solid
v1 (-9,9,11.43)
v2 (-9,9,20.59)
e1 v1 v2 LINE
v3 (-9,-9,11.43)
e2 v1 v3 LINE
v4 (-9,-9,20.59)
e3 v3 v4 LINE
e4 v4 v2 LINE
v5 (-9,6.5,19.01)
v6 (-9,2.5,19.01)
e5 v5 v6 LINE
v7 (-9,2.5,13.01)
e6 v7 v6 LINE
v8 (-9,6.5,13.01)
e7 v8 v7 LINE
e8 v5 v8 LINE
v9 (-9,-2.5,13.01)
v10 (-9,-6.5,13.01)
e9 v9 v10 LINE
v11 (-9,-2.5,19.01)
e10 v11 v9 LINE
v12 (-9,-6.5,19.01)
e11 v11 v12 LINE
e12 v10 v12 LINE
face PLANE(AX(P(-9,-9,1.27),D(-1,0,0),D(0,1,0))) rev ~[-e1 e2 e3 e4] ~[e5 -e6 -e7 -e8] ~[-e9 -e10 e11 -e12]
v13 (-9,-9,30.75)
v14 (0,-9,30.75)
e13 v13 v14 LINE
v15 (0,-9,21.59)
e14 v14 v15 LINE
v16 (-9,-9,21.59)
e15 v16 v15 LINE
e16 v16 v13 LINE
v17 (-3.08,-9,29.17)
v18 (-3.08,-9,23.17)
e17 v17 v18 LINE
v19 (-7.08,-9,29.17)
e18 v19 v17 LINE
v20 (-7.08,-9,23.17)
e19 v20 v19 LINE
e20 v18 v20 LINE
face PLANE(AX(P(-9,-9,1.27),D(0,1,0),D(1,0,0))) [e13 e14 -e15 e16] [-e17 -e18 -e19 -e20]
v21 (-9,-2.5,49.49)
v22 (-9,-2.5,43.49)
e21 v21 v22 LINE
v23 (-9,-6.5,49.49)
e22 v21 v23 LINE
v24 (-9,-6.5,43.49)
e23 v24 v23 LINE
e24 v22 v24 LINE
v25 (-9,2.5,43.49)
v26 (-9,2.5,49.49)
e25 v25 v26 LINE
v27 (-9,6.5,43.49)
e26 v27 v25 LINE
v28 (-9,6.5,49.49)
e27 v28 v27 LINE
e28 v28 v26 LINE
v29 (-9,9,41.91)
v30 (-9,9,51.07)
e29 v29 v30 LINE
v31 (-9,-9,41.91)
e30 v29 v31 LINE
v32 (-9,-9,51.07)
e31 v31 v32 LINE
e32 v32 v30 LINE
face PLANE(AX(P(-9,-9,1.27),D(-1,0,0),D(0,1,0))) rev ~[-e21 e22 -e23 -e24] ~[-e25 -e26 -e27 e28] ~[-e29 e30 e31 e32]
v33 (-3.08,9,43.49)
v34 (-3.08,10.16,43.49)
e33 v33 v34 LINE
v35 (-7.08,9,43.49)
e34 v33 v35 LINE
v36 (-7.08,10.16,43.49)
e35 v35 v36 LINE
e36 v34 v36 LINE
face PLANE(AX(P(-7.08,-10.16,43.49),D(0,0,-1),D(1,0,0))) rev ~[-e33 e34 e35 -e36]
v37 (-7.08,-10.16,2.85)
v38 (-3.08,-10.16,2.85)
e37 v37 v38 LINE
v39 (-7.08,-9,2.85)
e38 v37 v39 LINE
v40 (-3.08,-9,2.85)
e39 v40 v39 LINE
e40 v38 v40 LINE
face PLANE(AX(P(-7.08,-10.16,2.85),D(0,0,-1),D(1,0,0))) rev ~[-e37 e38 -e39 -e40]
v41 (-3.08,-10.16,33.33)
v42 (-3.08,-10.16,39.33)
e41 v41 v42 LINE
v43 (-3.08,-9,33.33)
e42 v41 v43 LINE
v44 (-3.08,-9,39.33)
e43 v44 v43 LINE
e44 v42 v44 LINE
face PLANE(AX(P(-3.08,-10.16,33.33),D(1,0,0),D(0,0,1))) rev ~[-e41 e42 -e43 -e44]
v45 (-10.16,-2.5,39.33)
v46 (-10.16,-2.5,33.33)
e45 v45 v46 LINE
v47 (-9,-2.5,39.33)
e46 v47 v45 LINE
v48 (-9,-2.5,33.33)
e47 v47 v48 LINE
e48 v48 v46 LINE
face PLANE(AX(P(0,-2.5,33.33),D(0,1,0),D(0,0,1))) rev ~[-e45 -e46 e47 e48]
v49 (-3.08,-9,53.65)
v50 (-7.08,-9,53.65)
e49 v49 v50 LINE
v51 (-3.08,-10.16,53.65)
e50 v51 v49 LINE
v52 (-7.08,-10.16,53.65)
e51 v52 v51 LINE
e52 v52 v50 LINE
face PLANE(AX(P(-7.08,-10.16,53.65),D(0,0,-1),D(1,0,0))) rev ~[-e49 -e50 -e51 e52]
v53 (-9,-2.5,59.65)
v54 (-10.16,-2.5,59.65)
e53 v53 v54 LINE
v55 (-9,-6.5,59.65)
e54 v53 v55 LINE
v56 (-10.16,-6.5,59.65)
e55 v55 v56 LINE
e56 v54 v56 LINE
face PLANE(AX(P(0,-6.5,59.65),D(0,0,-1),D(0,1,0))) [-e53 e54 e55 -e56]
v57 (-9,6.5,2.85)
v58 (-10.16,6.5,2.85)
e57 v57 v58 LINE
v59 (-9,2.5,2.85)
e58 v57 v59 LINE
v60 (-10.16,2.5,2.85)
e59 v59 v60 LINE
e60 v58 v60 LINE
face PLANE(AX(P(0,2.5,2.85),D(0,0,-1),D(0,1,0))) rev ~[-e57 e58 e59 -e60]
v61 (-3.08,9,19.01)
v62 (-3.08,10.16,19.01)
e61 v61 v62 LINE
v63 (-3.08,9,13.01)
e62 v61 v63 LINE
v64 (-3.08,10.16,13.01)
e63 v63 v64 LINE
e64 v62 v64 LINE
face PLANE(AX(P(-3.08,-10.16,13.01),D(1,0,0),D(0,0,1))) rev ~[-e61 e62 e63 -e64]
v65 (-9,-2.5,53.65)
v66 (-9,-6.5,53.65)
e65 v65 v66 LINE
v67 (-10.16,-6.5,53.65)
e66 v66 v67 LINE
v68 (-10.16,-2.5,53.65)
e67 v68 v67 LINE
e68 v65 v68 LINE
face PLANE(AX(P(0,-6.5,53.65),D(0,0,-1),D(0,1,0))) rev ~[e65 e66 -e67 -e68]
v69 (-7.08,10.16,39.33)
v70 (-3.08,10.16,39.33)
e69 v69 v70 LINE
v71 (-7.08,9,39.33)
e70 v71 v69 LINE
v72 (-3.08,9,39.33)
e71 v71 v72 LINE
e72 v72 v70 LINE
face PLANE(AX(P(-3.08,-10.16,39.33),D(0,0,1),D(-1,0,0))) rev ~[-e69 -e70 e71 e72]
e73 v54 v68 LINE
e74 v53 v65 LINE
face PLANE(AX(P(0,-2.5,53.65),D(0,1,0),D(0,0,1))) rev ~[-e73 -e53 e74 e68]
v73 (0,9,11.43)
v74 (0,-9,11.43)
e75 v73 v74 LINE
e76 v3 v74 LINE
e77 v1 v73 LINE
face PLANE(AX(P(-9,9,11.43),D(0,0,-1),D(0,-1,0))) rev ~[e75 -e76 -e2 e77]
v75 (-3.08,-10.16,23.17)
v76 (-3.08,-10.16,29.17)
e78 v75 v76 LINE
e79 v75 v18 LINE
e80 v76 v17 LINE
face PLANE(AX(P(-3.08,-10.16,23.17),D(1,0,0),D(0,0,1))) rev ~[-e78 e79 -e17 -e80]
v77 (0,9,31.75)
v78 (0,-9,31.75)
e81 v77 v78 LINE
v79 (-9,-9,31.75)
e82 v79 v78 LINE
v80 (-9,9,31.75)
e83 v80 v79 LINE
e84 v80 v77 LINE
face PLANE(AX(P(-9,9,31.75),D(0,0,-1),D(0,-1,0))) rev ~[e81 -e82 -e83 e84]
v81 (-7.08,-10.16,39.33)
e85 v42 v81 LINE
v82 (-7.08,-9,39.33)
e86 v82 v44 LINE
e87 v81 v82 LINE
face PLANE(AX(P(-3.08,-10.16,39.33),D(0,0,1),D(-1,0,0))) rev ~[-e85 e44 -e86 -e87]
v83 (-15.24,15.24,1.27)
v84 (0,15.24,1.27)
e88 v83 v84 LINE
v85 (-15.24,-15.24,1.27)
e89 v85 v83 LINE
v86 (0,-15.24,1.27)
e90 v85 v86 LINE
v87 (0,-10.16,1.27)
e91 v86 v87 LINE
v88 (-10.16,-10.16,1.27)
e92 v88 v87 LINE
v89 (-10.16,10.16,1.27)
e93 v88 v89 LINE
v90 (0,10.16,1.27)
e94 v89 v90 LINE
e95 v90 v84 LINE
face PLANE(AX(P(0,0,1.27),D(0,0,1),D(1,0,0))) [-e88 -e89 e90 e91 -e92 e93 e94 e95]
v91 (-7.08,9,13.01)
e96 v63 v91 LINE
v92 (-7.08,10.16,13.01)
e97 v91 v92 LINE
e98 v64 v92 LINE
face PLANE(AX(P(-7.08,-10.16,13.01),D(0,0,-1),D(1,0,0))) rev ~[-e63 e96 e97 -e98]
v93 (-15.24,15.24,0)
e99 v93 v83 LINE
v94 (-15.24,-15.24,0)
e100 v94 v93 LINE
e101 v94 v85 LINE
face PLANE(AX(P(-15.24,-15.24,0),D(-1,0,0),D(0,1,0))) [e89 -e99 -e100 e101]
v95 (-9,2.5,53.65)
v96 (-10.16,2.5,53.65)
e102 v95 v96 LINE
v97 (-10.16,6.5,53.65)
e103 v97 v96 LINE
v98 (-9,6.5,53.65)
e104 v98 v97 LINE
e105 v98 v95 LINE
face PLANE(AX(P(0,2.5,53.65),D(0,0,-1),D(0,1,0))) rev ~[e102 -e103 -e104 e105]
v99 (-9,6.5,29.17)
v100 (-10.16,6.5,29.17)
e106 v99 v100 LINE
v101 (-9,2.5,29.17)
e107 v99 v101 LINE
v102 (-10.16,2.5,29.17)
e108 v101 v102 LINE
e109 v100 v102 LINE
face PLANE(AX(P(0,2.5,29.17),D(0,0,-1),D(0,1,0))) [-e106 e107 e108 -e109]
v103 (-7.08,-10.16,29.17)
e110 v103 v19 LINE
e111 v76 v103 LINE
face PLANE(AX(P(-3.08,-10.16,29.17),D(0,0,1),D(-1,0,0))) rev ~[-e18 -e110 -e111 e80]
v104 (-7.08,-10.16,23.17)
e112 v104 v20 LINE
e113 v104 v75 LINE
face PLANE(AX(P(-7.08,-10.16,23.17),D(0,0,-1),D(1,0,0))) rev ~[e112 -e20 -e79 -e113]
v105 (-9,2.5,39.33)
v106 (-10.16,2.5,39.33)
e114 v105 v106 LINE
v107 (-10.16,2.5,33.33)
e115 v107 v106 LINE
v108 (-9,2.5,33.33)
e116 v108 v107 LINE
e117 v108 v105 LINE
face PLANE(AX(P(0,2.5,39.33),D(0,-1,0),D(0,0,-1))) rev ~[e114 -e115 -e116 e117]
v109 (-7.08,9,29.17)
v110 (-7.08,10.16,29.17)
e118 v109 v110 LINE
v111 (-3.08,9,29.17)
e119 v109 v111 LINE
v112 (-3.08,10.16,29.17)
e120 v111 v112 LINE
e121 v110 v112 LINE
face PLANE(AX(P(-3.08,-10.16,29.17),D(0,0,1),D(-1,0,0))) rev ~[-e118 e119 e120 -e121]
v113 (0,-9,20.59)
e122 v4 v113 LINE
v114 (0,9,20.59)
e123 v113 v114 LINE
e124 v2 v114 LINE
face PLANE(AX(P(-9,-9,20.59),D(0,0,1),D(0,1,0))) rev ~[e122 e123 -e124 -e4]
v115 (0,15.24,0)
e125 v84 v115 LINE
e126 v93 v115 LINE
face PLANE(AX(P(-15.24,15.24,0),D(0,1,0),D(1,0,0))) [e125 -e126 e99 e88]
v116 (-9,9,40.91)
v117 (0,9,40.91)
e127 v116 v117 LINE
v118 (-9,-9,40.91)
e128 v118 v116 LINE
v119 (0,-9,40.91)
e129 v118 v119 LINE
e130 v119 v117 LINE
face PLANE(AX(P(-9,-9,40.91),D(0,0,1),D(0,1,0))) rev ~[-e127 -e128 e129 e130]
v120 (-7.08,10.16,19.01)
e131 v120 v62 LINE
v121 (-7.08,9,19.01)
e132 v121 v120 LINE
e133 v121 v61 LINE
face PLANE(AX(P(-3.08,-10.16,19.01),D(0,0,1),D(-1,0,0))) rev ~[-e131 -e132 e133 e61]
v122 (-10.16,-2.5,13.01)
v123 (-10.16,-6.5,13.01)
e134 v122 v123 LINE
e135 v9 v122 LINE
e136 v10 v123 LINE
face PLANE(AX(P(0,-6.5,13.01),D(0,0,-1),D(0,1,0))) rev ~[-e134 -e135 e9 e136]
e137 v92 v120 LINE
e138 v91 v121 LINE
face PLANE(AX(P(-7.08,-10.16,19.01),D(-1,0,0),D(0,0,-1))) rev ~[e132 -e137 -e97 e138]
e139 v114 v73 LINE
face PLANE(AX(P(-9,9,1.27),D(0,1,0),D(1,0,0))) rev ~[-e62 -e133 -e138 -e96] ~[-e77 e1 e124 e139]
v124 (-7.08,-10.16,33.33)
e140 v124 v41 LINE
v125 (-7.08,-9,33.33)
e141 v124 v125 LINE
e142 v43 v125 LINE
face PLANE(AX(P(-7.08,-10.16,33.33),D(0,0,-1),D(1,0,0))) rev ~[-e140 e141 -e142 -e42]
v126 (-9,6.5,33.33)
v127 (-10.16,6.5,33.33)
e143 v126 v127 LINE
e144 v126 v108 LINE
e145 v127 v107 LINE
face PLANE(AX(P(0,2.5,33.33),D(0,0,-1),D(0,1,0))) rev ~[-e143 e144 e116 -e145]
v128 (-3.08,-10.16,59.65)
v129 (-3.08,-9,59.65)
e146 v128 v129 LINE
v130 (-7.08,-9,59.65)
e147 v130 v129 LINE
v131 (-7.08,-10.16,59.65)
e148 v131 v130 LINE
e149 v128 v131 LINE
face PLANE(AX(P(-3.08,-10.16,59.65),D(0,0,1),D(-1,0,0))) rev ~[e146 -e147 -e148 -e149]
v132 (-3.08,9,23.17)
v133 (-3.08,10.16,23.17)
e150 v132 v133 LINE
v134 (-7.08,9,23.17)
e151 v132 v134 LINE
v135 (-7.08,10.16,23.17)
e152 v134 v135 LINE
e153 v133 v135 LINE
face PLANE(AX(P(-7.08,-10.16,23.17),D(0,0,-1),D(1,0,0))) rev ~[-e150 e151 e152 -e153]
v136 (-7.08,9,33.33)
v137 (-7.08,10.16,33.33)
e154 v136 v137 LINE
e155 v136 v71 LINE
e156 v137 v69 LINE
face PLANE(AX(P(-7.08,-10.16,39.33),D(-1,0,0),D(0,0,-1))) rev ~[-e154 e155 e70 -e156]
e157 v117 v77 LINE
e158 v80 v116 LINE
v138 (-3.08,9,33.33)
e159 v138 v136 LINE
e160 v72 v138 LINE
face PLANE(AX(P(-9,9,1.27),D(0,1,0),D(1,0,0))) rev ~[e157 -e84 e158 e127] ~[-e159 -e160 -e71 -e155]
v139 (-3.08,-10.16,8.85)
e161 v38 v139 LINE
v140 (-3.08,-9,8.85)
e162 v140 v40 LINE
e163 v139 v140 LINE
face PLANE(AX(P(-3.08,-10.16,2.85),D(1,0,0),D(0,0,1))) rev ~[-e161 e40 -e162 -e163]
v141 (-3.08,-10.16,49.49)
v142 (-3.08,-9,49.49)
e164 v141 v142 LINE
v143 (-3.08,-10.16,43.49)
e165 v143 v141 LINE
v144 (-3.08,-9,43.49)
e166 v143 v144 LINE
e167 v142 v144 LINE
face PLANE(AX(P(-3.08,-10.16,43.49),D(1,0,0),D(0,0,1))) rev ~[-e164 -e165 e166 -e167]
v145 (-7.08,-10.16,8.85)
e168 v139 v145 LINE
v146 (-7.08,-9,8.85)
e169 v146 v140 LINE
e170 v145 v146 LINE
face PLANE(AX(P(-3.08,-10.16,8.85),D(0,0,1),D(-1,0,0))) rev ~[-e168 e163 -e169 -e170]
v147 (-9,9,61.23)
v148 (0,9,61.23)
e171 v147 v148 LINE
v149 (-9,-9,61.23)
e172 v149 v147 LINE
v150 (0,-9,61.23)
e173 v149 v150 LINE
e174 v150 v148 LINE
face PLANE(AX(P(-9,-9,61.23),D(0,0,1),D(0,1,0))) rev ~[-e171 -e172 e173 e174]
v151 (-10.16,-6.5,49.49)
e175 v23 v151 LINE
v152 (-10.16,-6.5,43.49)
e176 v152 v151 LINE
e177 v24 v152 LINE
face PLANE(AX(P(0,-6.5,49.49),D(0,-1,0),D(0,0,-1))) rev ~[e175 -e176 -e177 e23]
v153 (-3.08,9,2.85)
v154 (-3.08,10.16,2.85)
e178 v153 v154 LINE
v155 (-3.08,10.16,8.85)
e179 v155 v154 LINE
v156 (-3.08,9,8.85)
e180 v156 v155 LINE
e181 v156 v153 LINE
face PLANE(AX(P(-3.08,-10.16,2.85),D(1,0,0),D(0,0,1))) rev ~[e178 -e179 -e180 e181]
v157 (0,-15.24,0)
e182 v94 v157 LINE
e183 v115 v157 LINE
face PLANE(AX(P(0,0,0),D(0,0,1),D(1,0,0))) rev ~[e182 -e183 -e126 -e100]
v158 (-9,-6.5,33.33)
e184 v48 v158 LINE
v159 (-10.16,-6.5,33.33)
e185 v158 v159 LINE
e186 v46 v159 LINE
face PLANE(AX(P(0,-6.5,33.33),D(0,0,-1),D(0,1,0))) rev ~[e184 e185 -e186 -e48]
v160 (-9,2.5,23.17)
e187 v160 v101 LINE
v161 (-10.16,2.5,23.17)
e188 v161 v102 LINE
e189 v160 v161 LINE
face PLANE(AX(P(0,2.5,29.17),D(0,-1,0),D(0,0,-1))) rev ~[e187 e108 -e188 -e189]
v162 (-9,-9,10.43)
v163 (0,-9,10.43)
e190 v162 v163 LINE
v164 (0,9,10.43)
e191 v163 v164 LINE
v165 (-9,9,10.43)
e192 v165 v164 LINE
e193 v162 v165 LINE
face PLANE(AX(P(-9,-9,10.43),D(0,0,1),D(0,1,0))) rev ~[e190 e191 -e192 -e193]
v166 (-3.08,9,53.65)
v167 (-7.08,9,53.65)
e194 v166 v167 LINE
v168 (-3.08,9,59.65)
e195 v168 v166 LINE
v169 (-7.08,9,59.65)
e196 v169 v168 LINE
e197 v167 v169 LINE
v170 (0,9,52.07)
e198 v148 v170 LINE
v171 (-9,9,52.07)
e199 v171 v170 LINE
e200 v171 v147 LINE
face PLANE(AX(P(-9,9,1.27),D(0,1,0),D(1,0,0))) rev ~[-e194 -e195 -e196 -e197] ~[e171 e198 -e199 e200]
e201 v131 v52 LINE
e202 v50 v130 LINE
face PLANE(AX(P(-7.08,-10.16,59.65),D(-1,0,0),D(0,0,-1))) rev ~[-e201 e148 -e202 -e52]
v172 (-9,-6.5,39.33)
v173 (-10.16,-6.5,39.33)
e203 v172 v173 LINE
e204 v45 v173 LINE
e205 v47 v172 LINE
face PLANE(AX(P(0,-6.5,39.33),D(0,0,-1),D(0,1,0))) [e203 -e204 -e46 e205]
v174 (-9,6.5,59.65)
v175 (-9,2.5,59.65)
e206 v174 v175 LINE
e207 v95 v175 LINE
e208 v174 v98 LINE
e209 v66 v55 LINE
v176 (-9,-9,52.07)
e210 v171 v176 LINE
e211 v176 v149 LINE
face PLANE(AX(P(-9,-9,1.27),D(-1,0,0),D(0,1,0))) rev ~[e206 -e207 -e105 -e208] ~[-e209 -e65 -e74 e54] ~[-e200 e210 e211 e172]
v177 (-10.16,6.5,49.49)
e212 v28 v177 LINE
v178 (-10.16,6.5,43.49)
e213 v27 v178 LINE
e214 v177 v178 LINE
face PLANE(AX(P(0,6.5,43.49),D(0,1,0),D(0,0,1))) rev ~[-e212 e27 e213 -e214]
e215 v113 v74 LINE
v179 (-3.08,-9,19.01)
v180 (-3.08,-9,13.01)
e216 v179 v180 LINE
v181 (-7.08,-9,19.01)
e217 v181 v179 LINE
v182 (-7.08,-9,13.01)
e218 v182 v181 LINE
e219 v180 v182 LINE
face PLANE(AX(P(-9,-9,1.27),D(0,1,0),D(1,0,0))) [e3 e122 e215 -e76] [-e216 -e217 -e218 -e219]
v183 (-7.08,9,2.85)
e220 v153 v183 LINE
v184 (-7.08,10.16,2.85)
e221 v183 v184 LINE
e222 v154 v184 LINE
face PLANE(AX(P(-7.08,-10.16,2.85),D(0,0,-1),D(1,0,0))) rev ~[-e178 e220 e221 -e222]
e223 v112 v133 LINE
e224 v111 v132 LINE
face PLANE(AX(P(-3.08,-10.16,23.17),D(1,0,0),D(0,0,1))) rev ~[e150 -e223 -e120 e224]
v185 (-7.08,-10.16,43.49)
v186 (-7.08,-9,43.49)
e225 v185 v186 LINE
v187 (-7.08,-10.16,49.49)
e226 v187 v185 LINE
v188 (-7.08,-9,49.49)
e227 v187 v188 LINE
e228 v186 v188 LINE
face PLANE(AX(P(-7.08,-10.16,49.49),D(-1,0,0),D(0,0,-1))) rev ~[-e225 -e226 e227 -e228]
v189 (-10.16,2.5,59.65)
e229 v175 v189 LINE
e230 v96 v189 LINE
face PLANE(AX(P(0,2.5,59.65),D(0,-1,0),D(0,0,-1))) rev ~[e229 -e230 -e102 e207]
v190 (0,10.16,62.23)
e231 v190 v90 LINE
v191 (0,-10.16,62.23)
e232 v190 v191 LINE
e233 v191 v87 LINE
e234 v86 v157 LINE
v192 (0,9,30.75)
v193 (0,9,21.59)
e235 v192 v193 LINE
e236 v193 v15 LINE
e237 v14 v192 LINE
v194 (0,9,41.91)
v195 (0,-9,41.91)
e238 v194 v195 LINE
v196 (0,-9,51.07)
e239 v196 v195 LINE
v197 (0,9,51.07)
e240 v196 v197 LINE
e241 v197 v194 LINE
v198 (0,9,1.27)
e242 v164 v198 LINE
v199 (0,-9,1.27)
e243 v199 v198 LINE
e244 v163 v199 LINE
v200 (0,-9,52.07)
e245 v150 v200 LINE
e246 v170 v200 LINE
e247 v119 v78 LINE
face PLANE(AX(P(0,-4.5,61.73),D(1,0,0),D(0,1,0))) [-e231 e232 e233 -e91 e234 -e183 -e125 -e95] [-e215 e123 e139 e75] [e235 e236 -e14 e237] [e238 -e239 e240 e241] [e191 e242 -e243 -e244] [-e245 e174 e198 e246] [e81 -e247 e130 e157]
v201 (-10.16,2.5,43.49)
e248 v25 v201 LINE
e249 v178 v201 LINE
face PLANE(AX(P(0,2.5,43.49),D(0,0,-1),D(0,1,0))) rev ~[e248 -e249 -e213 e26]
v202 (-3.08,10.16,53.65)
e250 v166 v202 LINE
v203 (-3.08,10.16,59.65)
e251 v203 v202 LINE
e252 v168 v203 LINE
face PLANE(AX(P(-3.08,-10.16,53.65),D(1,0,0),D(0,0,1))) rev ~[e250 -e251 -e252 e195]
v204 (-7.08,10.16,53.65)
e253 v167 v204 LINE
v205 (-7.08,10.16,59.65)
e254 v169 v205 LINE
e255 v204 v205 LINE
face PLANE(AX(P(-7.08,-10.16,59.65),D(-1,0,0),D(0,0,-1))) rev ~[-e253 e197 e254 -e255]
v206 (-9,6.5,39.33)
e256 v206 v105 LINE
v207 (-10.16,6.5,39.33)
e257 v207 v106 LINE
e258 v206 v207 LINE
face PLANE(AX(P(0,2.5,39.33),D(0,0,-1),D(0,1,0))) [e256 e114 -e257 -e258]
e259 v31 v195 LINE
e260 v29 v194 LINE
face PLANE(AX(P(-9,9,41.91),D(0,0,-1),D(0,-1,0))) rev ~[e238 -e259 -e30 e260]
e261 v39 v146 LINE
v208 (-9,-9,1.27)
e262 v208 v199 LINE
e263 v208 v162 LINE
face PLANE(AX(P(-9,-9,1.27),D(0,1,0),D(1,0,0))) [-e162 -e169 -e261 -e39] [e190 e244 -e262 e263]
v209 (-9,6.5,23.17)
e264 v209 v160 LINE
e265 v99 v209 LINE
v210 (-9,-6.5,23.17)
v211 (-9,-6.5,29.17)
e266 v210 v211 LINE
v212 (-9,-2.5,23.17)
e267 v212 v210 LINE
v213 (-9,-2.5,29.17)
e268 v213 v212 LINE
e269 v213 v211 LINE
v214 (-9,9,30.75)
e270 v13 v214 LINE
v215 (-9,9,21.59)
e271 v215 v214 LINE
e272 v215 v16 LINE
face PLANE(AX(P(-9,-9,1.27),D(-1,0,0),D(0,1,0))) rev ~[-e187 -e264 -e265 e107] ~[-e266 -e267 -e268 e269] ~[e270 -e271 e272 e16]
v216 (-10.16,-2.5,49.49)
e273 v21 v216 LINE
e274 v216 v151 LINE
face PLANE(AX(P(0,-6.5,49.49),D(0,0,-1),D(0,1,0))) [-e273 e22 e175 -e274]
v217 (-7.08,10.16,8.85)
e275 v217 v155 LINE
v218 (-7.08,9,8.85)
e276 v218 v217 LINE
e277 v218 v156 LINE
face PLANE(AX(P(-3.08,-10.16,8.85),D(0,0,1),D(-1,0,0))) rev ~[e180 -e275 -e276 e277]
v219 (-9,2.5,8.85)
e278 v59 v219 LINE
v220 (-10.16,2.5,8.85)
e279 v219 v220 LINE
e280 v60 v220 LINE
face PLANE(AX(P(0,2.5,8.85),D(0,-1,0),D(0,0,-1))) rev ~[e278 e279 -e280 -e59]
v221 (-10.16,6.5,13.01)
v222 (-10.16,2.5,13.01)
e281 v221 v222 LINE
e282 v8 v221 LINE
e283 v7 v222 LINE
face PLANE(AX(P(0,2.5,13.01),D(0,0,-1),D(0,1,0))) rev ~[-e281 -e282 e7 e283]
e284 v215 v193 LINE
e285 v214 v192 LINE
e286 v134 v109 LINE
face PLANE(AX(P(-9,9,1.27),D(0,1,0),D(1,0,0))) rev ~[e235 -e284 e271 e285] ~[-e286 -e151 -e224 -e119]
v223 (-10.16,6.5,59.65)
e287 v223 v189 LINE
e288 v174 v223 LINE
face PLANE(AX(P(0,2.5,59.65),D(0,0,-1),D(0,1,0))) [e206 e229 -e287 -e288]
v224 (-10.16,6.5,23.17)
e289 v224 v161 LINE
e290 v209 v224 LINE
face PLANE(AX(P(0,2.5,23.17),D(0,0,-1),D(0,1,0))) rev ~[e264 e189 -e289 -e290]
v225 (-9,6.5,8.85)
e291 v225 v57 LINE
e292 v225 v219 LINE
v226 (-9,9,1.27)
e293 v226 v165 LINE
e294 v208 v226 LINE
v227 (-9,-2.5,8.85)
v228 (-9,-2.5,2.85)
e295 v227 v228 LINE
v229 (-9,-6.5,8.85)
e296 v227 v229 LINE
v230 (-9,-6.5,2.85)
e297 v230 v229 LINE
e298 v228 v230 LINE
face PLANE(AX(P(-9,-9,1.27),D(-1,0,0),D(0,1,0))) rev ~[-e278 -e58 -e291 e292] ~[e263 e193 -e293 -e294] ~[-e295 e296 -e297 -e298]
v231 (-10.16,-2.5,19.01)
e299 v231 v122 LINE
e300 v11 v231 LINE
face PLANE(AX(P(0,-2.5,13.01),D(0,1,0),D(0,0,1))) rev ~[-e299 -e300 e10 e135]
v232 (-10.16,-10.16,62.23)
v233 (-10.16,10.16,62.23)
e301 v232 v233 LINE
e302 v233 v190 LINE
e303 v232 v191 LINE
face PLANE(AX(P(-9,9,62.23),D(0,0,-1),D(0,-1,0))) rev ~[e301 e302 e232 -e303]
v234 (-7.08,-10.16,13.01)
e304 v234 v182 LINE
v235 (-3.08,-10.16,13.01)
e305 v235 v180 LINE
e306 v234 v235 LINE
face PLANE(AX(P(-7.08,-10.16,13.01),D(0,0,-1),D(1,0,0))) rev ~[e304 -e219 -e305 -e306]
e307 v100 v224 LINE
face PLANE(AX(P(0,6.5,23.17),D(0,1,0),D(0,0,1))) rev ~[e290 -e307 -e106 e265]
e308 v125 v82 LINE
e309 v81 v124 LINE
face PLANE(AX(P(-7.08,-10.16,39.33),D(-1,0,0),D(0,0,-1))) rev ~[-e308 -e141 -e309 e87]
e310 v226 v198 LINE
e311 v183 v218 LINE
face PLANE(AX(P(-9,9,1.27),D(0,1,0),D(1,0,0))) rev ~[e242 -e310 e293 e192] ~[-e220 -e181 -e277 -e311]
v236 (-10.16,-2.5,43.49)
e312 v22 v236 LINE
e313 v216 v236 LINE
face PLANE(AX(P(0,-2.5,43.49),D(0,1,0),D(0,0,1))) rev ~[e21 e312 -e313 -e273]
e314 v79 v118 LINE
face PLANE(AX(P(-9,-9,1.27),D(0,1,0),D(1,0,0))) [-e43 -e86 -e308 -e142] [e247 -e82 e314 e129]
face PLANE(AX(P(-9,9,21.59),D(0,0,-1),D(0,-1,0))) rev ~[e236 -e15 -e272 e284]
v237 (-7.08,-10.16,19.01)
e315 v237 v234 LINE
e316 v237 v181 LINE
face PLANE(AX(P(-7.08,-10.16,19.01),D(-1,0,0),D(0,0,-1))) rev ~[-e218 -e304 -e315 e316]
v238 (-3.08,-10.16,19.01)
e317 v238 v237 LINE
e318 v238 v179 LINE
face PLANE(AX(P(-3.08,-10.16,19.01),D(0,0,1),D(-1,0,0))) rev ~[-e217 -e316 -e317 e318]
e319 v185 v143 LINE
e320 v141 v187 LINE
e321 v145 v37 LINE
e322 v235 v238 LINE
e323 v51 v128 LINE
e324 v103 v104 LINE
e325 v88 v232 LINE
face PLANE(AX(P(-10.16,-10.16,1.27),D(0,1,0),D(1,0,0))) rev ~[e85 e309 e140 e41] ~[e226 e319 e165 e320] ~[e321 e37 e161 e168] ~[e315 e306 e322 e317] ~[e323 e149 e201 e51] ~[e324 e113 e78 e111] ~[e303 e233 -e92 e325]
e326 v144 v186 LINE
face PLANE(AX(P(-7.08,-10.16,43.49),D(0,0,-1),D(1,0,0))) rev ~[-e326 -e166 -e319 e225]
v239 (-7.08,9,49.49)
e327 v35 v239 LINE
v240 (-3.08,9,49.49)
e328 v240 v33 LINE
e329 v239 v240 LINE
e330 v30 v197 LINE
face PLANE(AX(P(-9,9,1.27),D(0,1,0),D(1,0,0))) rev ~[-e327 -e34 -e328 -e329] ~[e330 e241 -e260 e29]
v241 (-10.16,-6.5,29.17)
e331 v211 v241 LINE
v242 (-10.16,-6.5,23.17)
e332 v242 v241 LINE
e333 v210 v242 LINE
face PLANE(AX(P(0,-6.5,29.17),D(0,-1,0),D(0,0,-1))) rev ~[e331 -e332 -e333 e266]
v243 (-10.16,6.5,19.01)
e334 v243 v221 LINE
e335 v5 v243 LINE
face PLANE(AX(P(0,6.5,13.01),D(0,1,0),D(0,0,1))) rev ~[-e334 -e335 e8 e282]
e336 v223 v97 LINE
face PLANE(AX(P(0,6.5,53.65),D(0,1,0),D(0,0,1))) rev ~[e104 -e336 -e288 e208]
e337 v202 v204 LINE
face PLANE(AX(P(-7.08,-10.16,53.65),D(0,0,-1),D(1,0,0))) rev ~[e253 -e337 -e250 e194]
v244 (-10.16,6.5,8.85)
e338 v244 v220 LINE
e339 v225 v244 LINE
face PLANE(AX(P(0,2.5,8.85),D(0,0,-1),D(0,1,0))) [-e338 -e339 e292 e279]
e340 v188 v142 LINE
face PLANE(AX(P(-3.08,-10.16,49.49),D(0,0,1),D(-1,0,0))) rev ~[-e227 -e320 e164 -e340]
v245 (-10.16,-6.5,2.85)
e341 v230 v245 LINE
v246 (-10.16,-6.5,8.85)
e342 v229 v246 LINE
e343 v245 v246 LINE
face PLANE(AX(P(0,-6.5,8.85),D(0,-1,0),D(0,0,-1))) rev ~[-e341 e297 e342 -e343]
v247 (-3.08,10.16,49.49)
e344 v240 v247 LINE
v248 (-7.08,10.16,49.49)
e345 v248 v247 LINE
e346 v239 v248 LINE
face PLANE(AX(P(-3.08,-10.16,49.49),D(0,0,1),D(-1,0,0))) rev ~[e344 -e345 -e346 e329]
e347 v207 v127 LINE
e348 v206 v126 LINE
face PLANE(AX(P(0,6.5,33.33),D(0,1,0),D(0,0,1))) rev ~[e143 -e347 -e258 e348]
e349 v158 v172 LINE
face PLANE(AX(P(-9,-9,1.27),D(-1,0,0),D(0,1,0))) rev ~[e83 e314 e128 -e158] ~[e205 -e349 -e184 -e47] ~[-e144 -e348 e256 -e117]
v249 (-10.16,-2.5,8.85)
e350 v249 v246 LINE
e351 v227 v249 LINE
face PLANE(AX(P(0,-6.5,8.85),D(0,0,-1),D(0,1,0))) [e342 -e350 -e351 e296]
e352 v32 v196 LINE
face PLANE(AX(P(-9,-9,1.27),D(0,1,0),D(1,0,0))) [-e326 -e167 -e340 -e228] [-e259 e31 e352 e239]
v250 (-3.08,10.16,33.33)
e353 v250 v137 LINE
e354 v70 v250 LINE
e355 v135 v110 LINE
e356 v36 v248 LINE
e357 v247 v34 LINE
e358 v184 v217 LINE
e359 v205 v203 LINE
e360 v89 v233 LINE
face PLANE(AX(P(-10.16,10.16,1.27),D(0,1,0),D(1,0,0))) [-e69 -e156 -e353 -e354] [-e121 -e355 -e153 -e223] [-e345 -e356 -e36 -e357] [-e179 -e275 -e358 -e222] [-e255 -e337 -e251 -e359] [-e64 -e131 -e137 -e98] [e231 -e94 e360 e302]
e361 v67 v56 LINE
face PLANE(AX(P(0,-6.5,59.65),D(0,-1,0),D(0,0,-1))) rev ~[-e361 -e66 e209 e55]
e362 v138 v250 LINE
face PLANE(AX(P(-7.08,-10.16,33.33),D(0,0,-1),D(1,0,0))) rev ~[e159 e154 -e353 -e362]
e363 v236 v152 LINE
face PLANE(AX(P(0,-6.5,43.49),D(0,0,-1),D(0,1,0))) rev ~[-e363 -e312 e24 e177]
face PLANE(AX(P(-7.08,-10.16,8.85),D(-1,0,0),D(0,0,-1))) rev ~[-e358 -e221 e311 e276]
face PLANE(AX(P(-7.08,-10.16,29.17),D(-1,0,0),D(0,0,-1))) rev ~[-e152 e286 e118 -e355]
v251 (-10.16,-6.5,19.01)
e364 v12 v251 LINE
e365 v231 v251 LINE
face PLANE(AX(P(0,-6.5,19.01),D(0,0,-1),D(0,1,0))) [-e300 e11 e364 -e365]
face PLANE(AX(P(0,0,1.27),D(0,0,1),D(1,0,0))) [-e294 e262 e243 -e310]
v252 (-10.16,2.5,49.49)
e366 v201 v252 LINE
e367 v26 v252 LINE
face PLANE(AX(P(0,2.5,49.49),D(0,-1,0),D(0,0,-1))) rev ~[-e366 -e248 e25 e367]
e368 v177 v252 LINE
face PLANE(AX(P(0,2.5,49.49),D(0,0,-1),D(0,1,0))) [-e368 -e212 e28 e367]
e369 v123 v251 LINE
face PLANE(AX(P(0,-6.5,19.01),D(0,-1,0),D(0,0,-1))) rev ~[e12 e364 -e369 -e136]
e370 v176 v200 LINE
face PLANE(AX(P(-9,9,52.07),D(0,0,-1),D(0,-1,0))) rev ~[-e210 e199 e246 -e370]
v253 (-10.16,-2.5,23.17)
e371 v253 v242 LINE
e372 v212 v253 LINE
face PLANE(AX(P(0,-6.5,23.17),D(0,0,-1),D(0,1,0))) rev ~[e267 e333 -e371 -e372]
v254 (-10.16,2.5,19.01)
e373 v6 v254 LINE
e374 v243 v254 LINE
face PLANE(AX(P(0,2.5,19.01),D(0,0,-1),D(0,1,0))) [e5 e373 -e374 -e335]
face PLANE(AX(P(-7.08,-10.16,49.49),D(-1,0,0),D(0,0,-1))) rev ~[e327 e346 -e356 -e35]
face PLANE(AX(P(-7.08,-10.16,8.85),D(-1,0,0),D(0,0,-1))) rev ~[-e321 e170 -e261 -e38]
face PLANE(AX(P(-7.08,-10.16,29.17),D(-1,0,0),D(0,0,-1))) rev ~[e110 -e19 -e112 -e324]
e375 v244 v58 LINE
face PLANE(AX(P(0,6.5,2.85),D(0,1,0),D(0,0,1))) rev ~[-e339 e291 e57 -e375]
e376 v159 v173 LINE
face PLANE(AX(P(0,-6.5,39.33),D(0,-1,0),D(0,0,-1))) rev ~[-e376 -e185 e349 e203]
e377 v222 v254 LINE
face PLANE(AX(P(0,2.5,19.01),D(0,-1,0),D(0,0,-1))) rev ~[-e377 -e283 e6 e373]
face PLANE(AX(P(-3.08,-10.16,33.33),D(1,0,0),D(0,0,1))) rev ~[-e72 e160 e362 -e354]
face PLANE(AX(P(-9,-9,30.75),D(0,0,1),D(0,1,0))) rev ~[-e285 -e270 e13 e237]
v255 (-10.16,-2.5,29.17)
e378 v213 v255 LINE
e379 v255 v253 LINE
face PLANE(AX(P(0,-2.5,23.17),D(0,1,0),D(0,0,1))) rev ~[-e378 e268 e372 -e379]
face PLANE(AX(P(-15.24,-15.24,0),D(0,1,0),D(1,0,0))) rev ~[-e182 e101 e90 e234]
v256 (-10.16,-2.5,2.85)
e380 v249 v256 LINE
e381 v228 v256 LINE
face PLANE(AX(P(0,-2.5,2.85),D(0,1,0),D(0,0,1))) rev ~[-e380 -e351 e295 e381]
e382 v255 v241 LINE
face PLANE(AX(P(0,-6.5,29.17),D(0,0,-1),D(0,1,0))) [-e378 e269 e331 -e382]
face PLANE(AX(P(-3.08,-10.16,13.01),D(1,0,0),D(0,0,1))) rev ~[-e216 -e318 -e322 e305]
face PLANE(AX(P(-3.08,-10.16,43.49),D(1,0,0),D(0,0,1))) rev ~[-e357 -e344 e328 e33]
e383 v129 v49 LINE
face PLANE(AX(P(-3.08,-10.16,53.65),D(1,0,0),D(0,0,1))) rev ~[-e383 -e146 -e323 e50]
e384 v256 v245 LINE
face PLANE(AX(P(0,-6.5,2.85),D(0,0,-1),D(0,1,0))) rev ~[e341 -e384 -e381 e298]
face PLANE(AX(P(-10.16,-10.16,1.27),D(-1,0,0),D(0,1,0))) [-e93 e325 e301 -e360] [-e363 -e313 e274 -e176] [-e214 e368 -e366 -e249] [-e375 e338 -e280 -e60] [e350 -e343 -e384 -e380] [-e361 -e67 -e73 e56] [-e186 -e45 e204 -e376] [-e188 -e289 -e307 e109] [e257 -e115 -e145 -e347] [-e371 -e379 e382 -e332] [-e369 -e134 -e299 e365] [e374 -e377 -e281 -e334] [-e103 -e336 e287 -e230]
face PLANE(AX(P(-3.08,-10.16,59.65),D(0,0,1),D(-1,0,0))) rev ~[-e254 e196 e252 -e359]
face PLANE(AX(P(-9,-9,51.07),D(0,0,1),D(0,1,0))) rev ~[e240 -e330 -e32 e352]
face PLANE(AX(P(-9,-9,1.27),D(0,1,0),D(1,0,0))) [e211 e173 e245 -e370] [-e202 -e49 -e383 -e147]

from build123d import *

# Parameters (mm, degrees)
F0_W      = 30.48
F0_H      = 30.48
F1_DEPTH  = 1.27
F2_W      = 20.32
F2_H      = 20.32
F2_W_2    = 18
F2_H_2    = 18
F3_DEPTH  = 60.96
F5_DEPTH  = 74.4
F6_W      = 9
F6_H      = 1
F7_DEPTH  = 9
F8_W      = 4
F8_H      = 3
F9_DEPTH  = 53.6
F11_DEPTH = 68.5


with BuildPart() as f1:
    # F0 (on Top) → F1 (new body)
    with BuildSketch(Plane.XY):
        Rectangle(F0_W, F0_H)
    extrude(amount=F1_DEPTH)

    # F2 (on face) → F3 (join)
    with BuildSketch(Plane.XY.offset(1.27)):
        Rectangle(F2_W, F2_H)
        Rectangle(F2_W_2, F2_H_2, mode=Mode.SUBTRACT)
    extrude(amount=F3_DEPTH)

    # F4 (on Top) → F5 (cut)
    with BuildSketch(Plane.XY):
        Polygon((0, 23.4475191683), (0, -30.1982481033), (25.5301650614, -30.3230863065), (25.5301650614, 23.4475191683), align=None)
    extrude(amount=F5_DEPTH, mode=Mode.SUBTRACT)

    # F6 (on face) → F7 (join)
    with BuildSketch(Plane.YZ.offset(-9)):
        with Locations((-4.5, 10.93)):
            Rectangle(F6_W, F6_H)
        with Locations((-4.5, 61.73)):
            Rectangle(F6_W, F6_H)
        with Locations((4.5, 61.73)):
            Rectangle(F6_W, F6_H)
        with Locations((-4.5, 51.57)):
            Rectangle(F6_W, F6_H)
        with Locations((4.5, 51.57)):
            Rectangle(F6_W, F6_H)
        with Locations((-4.5, 41.41)):
            Rectangle(F6_W, F6_H)
        with Locations((4.5, 41.41)):
            Rectangle(F6_W, F6_H)
        with Locations((-4.5, 31.25)):
            Rectangle(F6_W, F6_H)
        with Locations((4.5, 31.25)):
            Rectangle(F6_W, F6_H)
        with Locations((-4.5, 21.09)):
            Rectangle(F6_W, F6_H)
        with Locations((4.5, 21.09)):
            Rectangle(F6_W, F6_H)
        with Locations((4.5, 10.93)):
            Rectangle(F6_W, F6_H)
    extrude(amount=F7_DEPTH)

    # F8 (on face) → F9 (cut)
    with BuildSketch(Plane.YZ):
        with Locations((4.5, 7.35)):
            Rectangle(F8_W, F8_H)
        with Locations((4.5, 4.35)):
            Rectangle(F8_W, F8_H)
        with Locations((-4.5, 4.35)):
            Rectangle(F8_W, F8_H)
        with Locations((-4.5, 7.35)):
            Rectangle(F8_W, F8_H)
        with Locations((-4.5, 14.51)):
            Rectangle(F8_W, F8_H)
        with Locations((-4.5, 17.51)):
            Rectangle(F8_W, F8_H)
        with Locations((-4.5, 24.67)):
            Rectangle(F8_W, F8_H)
        with Locations((-4.5, 27.67)):
            Rectangle(F8_W, F8_H)
        with Locations((4.5, 27.67)):
            Rectangle(F8_W, F8_H)
        with Locations((4.5, 24.67)):
            Rectangle(F8_W, F8_H)
        with Locations((4.5, 17.51)):
            Rectangle(F8_W, F8_H)
        with Locations((4.5, 14.51)):
            Rectangle(F8_W, F8_H)
        with Locations((4.5, 34.83)):
            Rectangle(F8_W, F8_H)
        with Locations((-4.5, 34.83)):
            Rectangle(F8_W, F8_H)
        with Locations((-4.5, 37.83)):
            Rectangle(F8_W, F8_H)
        with Locations((4.5, 37.83)):
            Rectangle(F8_W, F8_H)
        with Locations((-4.5, 55.15)):
            Rectangle(F8_W, F8_H)
        with Locations((-4.5, 58.15)):
            Rectangle(F8_W, F8_H)
        with Locations((4.5, 58.15)):
            Rectangle(F8_W, F8_H)
        with Locations((4.5, 55.15)):
            Rectangle(F8_W, F8_H)
        with Locations((4.5, 47.99)):
            Rectangle(F8_W, F8_H)
        with Locations((4.5, 44.99)):
            Rectangle(F8_W, F8_H)
        with Locations((-4.5, 44.99)):
            Rectangle(F8_W, F8_H)
        with Locations((-4.5, 47.99)):
            Rectangle(F8_W, F8_H)
    extrude(amount=-F9_DEPTH, mode=Mode.SUBTRACT)

    # F10 (on face) → F11 (cut)
    with BuildSketch(Plane.XZ.offset(10.16)):
        Polygon((-7.08, 34.5268503937), (-5.08, 36.33), (-7.08, 36.33), align=None)
        Polygon((-5.08, 33.33), (-5.08, 36.33), (-7.08, 34.5268503937), (-7.08, 33.33), align=None)
        Polygon((-3.08, 34.5268503937), (-5.08, 36.33), (-5.08, 33.33), (-3.08, 33.33), align=None)
        Polygon((-3.08, 34.5268503937), (-3.08, 36.33), (-5.08, 36.33), align=None)
        Polygon((-3.08, 36.33), (-3.08, 38.1331496063), (-5.08, 36.33), align=None)
        Polygon((-5.08, 36.33), (-3.08, 38.1331496063), (-3.08, 39.33), (-5.08, 39.33), align=None)
        Polygon((-7.08, 39.33), (-7.08, 38.1331496063), (-5.08, 36.33), (-5.08, 39.33), align=None)
        Polygon((-5.08, 36.33), (-7.08, 38.1331496063), (-7.08, 36.33), align=None)
        Polygon((-3.08, 44.6868503937), (-5.08, 46.49), (-5.08, 43.49), (-3.08, 43.49), align=None)
        Polygon((-3.08, 44.6868503937), (-3.08, 46.49), (-5.08, 46.49), align=None)
        Polygon((-3.08, 46.49), (-3.08, 48.2931496063), (-5.08, 46.49), align=None)
        Polygon((-5.08, 46.49), (-3.08, 48.2931496063), (-3.08, 49.49), (-5.08, 49.49), align=None)
        Polygon((-7.08, 49.49), (-7.08, 48.2931496063), (-5.08, 46.49), (-5.08, 49.49), align=None)
        Polygon((-5.08, 46.49), (-7.08, 48.2931496063), (-7.08, 46.49), align=None)
        Polygon((-7.08, 44.6868503937), (-5.08, 46.49), (-7.08, 46.49), align=None)
        Polygon((-5.08, 43.49), (-5.08, 46.49), (-7.08, 44.6868503937), (-7.08, 43.49), align=None)
        Polygon((-5.08, 53.65), (-5.08, 56.65), (-7.08, 54.8468503937), (-7.08, 53.65), align=None)
        Polygon((-7.08, 54.8468503937), (-5.08, 56.65), (-7.08, 56.65), align=None)
        Polygon((-7.08, 56.65), (-5.08, 56.65), (-7.08, 58.4531496063), align=None)
        Polygon((-5.08, 56.65), (-5.08, 59.65), (-7.08, 59.65), (-7.08, 58.4531496063), align=None)
        Polygon((-3.08, 59.65), (-5.08, 59.65), (-5.08, 56.65), (-3.08, 58.4531496063), align=None)
        Polygon((-3.08, 58.4531496063), (-5.08, 56.65), (-3.08, 56.65), align=None)
        Polygon((-3.08, 56.65), (-5.08, 56.65), (-3.08, 54.8468503937), align=None)
        Polygon((-3.08, 54.8468503937), (-5.08, 56.65), (-5.08, 53.65), (-3.08, 53.65), align=None)
        Polygon((-3.08, 24.3668503937), (-5.08, 26.17), (-5.08, 23.17), (-3.08, 23.17), align=None)
        Polygon((-5.08, 23.17), (-5.08, 26.17), (-7.08, 24.3668503937), (-7.08, 23.17), align=None)
        Polygon((-7.08, 29.17), (-7.08, 27.9731496063), (-5.08, 26.17), (-5.08, 29.17), align=None)
        Polygon((-5.08, 26.17), (-3.08, 27.9731496063), (-3.08, 29.17), (-5.08, 29.17), align=None)
        Polygon((-3.08, 24.3668503937), (-3.08, 26.17), (-5.08, 26.17), align=None)
        Polygon((-3.08, 26.17), (-3.08, 27.9731496063), (-5.08, 26.17), align=None)
        Polygon((-5.08, 26.17), (-7.08, 27.9731496063), (-7.08, 26.17), align=None)
        Polygon((-7.08, 24.3668503937), (-5.08, 26.17), (-7.08, 26.17), align=None)
        Polygon((-7.08, 19.01), (-7.08, 17.8131496063), (-5.08, 16.01), (-5.08, 19.01), align=None)
        Polygon((-5.08, 16.01), (-7.08, 17.8131496063), (-7.08, 16.01), align=None)
        Polygon((-7.08, 14.2068503937), (-5.08, 16.01), (-7.08, 16.01), align=None)
        Polygon((-5.08, 13.01), (-5.08, 16.01), (-7.08, 14.2068503937), (-7.08, 13.01), align=None)
        Polygon((-3.08, 14.2068503937), (-5.08, 16.01), (-5.08, 13.01), (-3.08, 13.01), align=None)
        Polygon((-3.08, 14.2068503937), (-3.08, 16.01), (-5.08, 16.01), align=None)
        Polygon((-3.08, 16.01), (-3.08, 17.8131496063), (-5.08, 16.01), align=None)
        Polygon((-5.08, 16.01), (-3.08, 17.8131496063), (-3.08, 19.01), (-5.08, 19.01), align=None)
        Polygon((-7.08, 8.85), (-7.08, 7.6531496063), (-5.08, 5.85), (-5.08, 8.85), align=None)
        Polygon((-5.08, 5.85), (-3.08, 7.6531496063), (-3.08, 8.85), (-5.08, 8.85), align=None)
        Polygon((-3.08, 5.85), (-3.08, 7.6531496063), (-5.08, 5.85), align=None)
        Polygon((-3.08, 4.0468503937), (-3.08, 5.85), (-5.08, 5.85), align=None)
        Polygon((-3.08, 4.0468503937), (-5.08, 5.85), (-5.08, 2.85), (-3.08, 2.85), align=None)
        Polygon((-5.08, 2.85), (-5.08, 5.85), (-7.08, 4.0468503937), (-7.08, 2.85), align=None)
        Polygon((-7.08, 4.0468503937), (-5.08, 5.85), (-7.08, 5.85), align=None)
        Polygon((-5.08, 5.85), (-7.08, 7.6531496063), (-7.08, 5.85), align=None)
    extrude(amount=-F11_DEPTH, mode=Mode.SUBTRACT)


solid = f1.part
